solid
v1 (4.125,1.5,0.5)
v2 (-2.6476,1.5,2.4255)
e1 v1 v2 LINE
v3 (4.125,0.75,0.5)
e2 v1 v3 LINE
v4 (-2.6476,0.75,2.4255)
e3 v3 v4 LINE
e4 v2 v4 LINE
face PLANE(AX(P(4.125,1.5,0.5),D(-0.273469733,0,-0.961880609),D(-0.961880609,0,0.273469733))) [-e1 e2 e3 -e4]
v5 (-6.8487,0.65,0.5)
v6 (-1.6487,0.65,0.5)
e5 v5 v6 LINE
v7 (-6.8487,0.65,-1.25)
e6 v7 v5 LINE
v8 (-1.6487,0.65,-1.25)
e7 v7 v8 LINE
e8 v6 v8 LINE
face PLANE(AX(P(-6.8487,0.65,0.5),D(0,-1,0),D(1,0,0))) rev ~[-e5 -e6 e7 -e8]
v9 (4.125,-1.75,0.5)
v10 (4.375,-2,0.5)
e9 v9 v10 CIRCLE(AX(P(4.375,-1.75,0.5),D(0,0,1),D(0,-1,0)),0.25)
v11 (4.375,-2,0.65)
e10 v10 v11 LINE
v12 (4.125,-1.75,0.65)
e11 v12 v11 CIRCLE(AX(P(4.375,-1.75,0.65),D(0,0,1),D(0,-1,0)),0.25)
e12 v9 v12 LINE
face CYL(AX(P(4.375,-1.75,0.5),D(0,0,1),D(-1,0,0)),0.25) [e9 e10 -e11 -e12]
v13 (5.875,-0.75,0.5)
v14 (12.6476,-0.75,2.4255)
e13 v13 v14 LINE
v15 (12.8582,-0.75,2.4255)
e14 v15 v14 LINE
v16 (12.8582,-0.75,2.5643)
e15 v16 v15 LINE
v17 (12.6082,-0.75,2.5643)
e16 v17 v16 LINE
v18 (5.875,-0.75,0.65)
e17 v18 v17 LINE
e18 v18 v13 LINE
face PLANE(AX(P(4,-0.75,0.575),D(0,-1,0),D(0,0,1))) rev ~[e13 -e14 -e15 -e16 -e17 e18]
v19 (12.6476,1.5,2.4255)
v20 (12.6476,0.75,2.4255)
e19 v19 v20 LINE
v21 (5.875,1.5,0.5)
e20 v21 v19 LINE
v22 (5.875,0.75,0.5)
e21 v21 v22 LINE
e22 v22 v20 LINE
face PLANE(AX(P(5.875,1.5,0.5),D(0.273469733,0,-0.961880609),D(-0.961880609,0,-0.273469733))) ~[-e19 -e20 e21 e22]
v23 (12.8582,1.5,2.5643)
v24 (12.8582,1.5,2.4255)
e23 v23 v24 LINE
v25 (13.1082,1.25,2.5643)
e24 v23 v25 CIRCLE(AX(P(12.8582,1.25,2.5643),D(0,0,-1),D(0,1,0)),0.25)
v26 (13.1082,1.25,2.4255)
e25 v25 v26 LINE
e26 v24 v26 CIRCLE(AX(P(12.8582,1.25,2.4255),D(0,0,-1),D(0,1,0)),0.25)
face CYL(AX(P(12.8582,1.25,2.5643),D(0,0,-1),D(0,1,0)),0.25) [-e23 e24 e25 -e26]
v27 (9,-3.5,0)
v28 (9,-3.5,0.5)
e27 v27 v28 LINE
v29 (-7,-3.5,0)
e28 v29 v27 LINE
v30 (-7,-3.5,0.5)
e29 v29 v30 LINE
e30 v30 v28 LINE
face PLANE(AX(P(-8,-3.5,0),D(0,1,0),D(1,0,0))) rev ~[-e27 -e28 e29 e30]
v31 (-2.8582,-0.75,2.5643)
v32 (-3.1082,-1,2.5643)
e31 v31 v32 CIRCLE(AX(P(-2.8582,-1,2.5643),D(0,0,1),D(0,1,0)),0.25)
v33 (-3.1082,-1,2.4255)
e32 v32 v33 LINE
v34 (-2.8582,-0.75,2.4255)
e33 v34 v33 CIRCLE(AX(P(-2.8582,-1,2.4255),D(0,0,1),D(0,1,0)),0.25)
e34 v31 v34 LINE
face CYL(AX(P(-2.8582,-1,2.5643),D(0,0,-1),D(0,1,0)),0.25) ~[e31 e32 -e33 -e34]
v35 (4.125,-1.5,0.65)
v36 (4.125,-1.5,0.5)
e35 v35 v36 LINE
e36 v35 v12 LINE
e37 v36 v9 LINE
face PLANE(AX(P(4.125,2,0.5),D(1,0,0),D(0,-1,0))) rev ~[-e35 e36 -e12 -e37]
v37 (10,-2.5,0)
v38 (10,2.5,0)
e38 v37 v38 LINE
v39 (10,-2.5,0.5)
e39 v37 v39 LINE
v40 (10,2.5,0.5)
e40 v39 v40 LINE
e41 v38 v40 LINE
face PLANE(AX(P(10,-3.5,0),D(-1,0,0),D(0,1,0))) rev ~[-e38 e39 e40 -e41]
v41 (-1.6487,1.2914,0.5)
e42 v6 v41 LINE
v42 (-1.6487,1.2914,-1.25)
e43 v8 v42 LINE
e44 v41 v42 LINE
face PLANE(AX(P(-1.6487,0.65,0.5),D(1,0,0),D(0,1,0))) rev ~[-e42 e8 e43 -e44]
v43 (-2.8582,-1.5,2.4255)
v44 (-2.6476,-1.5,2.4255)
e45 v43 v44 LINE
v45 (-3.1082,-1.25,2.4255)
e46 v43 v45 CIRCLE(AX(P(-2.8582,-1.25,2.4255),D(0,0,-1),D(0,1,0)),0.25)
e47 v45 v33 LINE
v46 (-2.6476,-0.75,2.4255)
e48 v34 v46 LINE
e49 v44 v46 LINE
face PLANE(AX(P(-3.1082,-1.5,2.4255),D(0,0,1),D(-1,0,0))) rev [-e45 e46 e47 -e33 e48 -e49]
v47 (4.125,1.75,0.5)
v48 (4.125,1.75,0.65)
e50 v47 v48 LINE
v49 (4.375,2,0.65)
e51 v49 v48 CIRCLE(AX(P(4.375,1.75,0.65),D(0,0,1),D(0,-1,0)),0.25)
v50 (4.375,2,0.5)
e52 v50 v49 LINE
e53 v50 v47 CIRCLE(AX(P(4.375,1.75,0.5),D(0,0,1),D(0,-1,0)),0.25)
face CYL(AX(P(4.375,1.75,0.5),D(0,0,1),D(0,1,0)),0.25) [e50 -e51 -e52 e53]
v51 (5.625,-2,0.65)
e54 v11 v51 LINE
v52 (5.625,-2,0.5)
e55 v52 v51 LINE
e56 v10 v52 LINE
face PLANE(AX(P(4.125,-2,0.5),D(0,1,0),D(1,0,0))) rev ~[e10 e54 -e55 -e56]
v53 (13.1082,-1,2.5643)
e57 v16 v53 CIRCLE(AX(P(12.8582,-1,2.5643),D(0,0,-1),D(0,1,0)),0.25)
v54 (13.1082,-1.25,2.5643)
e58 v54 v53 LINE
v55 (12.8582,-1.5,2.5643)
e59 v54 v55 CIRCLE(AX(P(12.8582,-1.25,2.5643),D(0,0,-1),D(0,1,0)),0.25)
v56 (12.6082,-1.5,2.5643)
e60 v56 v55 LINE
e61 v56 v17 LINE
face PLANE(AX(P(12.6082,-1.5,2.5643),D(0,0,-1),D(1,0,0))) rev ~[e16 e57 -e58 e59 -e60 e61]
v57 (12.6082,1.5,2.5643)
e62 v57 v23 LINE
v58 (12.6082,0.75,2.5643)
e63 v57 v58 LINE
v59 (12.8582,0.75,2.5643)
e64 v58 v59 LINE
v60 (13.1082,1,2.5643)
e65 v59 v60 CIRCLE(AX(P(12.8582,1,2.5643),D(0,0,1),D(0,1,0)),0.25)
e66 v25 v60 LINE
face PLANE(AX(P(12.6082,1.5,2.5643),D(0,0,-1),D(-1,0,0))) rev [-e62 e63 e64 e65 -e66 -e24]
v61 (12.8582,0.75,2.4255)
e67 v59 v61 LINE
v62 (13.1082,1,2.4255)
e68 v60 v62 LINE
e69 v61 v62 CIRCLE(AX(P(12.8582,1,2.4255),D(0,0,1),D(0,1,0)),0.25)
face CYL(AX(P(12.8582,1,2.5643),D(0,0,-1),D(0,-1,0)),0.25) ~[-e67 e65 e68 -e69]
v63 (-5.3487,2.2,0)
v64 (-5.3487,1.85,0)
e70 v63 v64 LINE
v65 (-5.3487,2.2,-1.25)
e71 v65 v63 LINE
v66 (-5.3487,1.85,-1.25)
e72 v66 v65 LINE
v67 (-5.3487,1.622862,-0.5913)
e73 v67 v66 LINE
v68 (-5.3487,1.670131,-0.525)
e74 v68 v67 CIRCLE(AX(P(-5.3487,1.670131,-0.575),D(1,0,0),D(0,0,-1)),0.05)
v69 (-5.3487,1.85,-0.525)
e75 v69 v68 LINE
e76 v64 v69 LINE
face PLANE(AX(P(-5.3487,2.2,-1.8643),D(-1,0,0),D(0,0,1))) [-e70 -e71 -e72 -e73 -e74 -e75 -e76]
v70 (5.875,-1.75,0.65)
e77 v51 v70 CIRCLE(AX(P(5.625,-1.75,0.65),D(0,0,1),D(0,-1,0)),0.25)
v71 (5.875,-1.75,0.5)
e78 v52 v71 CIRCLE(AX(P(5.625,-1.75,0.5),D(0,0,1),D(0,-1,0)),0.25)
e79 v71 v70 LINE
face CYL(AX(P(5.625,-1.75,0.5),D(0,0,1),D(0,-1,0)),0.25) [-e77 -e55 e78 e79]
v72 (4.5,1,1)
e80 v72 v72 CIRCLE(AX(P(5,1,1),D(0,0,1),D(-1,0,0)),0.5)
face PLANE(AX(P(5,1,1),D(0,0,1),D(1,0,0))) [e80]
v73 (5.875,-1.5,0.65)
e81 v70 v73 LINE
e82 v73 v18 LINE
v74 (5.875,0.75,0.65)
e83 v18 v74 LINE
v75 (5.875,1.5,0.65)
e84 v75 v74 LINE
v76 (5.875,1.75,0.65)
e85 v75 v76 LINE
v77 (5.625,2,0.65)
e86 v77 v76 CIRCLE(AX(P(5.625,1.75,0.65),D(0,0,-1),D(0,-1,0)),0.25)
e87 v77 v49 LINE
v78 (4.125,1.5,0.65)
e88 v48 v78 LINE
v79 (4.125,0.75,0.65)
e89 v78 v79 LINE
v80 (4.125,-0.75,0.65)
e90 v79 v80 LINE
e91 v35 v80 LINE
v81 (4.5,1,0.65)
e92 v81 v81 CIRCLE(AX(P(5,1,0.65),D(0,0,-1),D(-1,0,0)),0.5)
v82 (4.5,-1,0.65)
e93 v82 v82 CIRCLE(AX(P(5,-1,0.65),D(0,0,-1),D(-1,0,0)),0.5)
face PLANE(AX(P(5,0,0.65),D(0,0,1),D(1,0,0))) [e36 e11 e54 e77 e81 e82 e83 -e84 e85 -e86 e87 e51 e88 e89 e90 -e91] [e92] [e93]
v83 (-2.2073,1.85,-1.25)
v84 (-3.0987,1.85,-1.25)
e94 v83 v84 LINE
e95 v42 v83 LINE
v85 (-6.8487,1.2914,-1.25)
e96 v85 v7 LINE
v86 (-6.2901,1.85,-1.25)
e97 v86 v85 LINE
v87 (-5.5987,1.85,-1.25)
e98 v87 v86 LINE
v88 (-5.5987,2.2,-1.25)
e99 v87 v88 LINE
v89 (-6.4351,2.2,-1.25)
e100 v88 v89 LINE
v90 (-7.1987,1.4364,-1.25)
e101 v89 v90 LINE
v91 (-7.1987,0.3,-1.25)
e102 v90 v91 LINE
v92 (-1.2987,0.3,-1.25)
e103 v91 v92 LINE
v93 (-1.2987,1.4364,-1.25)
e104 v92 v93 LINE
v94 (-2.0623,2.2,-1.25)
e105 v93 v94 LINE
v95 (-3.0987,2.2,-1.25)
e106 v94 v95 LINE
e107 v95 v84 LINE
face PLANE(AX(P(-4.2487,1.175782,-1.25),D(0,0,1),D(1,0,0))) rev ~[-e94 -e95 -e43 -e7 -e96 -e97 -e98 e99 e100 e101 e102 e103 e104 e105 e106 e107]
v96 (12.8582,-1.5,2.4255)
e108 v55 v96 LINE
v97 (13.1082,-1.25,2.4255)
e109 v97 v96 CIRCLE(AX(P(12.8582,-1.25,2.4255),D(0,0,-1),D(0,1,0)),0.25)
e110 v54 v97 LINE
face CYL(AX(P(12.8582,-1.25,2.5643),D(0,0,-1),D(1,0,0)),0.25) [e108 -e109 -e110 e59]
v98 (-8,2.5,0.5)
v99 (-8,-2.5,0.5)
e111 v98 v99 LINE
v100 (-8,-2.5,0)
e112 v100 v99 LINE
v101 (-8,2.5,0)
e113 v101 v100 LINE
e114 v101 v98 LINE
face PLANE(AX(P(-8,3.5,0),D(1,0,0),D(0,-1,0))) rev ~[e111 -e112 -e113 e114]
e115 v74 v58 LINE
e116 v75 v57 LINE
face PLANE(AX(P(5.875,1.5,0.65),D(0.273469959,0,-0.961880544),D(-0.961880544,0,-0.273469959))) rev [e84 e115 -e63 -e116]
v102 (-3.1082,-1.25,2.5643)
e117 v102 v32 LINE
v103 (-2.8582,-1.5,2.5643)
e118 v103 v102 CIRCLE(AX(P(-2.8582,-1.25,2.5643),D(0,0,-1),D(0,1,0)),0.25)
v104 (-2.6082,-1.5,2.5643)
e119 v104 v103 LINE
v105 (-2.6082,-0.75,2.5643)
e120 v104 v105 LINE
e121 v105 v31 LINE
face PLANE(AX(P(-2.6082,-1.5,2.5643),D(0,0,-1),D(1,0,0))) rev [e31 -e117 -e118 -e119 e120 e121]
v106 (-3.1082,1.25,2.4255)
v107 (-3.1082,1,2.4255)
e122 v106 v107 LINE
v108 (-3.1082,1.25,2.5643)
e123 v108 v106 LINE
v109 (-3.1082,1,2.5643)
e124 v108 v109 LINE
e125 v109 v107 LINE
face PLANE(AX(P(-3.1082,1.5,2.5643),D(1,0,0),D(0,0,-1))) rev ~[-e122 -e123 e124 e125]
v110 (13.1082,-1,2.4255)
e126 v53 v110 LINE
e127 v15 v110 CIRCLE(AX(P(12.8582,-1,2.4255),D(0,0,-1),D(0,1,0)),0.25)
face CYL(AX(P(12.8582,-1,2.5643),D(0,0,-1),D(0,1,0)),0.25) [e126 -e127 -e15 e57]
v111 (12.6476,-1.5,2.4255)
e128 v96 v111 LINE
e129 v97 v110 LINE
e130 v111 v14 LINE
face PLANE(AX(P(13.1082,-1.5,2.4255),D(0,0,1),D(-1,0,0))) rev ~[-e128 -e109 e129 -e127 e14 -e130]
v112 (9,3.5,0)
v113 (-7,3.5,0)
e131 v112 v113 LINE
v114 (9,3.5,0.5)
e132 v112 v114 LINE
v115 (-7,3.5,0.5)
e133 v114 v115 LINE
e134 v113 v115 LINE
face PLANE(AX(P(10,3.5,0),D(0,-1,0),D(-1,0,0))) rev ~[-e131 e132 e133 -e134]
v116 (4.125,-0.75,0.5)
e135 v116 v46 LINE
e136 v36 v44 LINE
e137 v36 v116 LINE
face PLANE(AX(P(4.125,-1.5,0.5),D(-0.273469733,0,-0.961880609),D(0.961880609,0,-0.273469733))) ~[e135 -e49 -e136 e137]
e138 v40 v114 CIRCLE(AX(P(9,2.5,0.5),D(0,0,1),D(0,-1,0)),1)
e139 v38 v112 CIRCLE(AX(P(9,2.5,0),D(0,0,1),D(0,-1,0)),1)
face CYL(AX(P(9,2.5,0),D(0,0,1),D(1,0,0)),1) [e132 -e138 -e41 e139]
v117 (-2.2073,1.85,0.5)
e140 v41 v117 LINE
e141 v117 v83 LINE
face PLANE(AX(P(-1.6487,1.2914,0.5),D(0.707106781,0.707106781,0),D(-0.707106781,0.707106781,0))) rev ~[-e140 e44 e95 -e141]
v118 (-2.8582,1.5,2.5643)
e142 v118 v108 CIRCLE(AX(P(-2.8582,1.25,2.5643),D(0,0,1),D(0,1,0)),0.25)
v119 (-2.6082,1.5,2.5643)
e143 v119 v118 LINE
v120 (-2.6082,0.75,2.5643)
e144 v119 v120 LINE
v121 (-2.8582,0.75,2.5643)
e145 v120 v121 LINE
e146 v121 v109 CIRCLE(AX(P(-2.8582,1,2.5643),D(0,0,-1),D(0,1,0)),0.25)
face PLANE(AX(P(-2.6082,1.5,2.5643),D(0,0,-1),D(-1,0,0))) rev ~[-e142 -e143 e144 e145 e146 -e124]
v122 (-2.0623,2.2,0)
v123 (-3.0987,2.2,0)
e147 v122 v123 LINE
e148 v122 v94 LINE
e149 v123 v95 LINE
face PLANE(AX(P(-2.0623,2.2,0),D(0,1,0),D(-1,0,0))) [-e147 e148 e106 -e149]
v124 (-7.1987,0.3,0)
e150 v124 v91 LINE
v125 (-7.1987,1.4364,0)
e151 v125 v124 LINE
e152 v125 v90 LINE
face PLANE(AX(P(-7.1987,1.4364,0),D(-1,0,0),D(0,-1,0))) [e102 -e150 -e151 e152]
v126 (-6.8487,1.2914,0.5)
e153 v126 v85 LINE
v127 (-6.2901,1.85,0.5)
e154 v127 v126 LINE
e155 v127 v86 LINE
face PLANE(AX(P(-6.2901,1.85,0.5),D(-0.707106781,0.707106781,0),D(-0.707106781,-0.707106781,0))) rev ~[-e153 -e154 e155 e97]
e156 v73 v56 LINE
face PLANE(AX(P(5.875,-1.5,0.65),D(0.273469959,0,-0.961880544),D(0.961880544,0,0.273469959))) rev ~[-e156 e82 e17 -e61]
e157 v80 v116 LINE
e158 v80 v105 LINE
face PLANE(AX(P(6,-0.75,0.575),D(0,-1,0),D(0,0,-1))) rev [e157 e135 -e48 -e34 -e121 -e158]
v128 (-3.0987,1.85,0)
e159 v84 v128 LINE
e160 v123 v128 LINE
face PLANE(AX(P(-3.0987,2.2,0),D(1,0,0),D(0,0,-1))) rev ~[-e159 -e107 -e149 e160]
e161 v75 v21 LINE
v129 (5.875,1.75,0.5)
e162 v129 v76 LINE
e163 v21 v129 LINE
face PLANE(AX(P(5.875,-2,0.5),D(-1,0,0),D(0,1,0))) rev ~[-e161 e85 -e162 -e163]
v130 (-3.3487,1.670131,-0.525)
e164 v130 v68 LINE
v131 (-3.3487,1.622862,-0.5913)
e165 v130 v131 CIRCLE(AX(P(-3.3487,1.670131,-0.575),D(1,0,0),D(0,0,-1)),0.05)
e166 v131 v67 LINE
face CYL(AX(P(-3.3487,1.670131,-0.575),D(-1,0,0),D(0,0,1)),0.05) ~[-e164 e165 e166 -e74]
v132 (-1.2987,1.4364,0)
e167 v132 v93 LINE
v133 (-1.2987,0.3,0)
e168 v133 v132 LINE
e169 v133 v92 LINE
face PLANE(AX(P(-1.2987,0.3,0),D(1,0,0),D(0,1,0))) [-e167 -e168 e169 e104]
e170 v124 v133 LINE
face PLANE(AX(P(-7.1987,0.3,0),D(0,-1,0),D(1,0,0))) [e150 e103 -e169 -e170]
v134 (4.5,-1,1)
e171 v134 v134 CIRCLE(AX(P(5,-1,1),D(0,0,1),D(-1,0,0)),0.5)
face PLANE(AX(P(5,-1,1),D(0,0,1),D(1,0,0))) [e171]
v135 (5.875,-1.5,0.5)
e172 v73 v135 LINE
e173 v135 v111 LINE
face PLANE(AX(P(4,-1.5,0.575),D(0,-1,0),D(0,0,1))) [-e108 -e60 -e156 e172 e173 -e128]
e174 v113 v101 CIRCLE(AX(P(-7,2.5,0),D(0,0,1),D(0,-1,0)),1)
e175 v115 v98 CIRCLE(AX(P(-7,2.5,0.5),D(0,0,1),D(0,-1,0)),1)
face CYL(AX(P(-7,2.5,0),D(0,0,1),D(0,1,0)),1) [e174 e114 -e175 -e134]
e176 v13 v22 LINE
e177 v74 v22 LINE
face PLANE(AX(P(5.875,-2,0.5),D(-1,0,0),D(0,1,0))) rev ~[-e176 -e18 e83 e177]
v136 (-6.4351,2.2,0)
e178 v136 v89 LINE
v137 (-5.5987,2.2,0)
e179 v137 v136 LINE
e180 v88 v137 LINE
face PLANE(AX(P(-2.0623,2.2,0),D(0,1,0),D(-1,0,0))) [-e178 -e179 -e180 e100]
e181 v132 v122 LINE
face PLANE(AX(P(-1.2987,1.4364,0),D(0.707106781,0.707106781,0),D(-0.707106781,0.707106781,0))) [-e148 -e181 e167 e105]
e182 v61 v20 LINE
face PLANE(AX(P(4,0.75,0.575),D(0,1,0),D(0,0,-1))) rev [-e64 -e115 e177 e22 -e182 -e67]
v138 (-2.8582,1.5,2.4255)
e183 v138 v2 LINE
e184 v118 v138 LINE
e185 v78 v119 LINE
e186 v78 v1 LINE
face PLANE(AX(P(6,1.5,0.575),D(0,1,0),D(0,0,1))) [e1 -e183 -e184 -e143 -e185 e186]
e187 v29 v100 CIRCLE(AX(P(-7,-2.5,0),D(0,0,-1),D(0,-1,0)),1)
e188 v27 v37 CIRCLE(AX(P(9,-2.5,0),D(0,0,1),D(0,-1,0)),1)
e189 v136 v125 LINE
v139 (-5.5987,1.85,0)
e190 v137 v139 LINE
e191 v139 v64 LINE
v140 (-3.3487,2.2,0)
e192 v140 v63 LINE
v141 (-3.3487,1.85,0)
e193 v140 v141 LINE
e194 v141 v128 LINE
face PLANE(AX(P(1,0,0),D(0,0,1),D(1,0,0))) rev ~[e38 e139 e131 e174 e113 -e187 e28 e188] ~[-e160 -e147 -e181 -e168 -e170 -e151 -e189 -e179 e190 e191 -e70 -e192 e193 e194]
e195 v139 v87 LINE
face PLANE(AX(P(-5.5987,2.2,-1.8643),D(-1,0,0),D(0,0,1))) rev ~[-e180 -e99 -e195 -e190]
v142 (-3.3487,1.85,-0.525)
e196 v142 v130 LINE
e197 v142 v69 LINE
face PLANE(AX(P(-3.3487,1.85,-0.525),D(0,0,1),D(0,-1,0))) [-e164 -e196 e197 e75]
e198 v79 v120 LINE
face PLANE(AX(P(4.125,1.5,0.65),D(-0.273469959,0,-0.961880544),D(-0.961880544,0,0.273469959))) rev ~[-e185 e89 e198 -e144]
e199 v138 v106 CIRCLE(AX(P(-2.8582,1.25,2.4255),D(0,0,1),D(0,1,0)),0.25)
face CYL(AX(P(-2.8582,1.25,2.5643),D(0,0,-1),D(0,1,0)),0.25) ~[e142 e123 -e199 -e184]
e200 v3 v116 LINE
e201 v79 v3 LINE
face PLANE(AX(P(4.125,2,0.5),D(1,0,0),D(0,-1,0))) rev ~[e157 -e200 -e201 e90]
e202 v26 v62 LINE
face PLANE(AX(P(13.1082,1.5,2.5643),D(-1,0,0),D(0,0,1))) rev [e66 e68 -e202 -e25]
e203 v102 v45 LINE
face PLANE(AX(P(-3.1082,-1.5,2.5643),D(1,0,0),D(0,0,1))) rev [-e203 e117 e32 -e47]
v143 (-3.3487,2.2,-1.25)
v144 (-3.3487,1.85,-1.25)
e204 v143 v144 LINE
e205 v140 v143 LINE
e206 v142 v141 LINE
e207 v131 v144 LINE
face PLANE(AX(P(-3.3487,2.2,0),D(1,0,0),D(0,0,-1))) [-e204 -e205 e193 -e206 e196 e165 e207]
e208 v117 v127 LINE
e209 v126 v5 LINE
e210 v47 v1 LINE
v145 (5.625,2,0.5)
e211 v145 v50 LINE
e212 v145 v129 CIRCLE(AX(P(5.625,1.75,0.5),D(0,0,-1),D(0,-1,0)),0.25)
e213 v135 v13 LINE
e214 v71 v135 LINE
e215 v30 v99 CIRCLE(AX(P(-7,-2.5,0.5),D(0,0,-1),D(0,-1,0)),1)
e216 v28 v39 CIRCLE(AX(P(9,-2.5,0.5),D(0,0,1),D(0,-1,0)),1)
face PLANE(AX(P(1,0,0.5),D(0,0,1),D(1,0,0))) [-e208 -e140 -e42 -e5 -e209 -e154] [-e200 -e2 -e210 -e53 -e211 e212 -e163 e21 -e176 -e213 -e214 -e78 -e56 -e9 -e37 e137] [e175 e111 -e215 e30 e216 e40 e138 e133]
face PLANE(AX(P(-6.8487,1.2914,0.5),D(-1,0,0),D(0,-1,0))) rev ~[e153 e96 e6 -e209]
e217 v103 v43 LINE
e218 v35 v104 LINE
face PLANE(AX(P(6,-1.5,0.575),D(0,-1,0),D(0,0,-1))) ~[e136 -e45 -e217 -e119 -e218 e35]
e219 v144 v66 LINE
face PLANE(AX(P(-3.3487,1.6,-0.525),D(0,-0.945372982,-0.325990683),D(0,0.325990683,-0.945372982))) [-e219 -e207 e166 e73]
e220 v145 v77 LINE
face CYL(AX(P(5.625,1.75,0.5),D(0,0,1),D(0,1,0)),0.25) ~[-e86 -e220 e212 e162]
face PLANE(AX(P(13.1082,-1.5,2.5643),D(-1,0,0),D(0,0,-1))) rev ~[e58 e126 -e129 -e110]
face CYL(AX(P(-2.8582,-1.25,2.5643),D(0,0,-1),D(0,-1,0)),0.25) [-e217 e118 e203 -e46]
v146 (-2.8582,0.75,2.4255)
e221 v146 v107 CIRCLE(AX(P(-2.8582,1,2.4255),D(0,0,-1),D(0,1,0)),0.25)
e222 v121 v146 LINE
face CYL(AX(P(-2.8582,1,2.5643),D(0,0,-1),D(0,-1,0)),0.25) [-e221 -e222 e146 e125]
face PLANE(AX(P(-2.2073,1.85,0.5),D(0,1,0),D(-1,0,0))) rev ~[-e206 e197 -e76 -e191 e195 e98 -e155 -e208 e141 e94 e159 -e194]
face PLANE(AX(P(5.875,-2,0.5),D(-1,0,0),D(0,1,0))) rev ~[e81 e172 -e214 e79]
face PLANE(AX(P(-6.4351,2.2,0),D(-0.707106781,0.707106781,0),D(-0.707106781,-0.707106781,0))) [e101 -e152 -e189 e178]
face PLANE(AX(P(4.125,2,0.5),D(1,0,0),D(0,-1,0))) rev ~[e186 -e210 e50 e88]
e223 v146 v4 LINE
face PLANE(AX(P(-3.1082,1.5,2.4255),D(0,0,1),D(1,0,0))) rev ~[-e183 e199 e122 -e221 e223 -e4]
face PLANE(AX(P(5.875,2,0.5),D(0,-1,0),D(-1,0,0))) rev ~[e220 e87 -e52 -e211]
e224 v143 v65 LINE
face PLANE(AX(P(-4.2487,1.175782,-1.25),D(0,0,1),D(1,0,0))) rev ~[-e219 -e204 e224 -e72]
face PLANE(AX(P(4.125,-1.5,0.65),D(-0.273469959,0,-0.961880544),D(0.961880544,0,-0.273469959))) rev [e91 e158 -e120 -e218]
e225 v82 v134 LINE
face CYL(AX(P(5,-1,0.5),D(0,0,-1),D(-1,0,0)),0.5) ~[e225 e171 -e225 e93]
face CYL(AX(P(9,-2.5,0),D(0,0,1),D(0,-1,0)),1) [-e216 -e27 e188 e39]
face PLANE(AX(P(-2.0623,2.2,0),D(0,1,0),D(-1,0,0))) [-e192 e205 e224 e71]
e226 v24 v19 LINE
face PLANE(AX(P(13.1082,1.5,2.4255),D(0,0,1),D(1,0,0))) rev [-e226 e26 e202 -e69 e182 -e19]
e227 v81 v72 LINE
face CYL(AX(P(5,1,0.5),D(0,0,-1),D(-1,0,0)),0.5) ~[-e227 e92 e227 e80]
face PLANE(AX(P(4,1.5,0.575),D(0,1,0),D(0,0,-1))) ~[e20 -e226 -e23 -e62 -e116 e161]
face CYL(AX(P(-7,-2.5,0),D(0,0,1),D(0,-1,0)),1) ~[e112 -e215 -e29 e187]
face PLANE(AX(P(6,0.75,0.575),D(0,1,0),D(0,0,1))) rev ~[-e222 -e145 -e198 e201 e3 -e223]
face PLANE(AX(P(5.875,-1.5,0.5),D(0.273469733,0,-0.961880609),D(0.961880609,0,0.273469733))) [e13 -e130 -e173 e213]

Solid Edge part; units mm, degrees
sketch "Sketch1" plane through (0, 0, 0) normal (0, 0, 1) x (1, 0, 0)
  line L0 (-8, -3.5) -> (10, -3.5)
  line L1 (10, -3.5) -> (10, 3.5)
  line L2 (10, 3.5) -> (-8, 3.5)
  line L3 (-8, 3.5) -> (-8, -3.5)
  dimension "D1" = 7
  dimension "D2" = 18
  dimension "D3" = 10
extrude "Protrusion1" add sketch "Sketch1" along normal blind 0.5
sketch "Sketch2" plane through (2, 0, 0.5) normal (0, 0, 1) x (-1, 0, 0)
  line L0 (8.8487, -0.65) -> (3.6487, -0.65)
  line L1 (3.6487, -0.65) -> (3.6487, -1.2914)
  line L2 (3.6487, -1.2914) -> (4.2073, -1.85)
  line L3 (4.2073, -1.85) -> (8.2901, -1.85)
  line L4 (8.2901, -1.85) -> (8.8487, -1.2914)
  line L5 (8.8487, -1.2914) -> (8.8487, -0.65)
extrude "Cutout1" cut sketch "Sketch2" against normal up to next
sketch "Sketch3" plane through (2, 0, 0) normal (0, 0, -1) x (1, 0, 0)
  line L0 (-8.2901, -1.85) -> (-8.8487, -1.2914)
  line L1 (-8.8487, -1.2914) -> (-8.8487, -0.65)
  line L2 (-8.8487, -0.65) -> (-3.6487, -0.65)
  line L3 (-3.6487, -0.65) -> (-3.6487, -1.2914)
  line L4 (-3.6487, -1.2914) -> (-4.2073, -1.85)
  line L5 (-4.2073, -1.85) -> (-8.2901, -1.85)
  line L6 (-9.1987, -0.3) -> (-3.2987, -0.3)
  line L7 (-3.2987, -0.3) -> (-3.2987, -1.4364)
  line L8 (-3.2987, -1.4364) -> (-4.0623, -2.2)
  line L9 (-4.0623, -2.2) -> (-8.4351, -2.2)
  line L10 (-8.4351, -2.2) -> (-9.1987, -1.4364)
  line L11 (-9.1987, -1.4364) -> (-9.1987, -0.3)
extrude "ExtrudedProtrusion_2" add sketch "Sketch3" along normal blind 1.25
sketch "Sketch4" plane through (-3.0487, 2.2, -0.625) normal (0, 1, 0) x (1, 0, 0)
  line L0 (-0.05, -0.625) -> (-0.05, 1.2393)
  line L1 (-0.3, 1.2393) -> (-0.05, 1.2393)
  line L2 (-0.3, -0.625) -> (-0.3, 1.2393)
  line L3 (-0.05, -0.625) -> (-0.3, -0.625)
  line L4 (-2.55, 1.2393) -> (-2.55, -0.625)
  line L5 (-2.3, -0.625) -> (-2.55, -0.625)
  line L6 (-2.3, 1.2393) -> (-2.3, -0.625)
  line L7 (-2.55, 1.2393) -> (-2.3, 1.2393)
extrude "Cutout2" cut sketch "Sketch4" against normal up to next
sketch "Sketch5" plane through (-3.3487, 2.025, -0.625) normal (1, 0, 0) x (0, -1, 0)
  line L0 (0.175, -0.1) -> (0.425, -0.1)
  line L1 (0.425, -0.1) -> (0.175, 0.625)
  dimension "D1" = 0.25
  dimension "D2" = 0.525
extrude "Protrusion2" add sketch "Sketch5" against normal up to vertex (2 mm away) material side at (-3.3487, 1.725, -0.575)
fillet "Round_1" radius 0.05 1 edges at (-4.3487, 1.6, -0.525)
fillet "Round_2" radius 1 4 edges at (10, 3.5, 0.25) (10, -3.5, 0.25) (-8, 3.5, 0.25) (-8, -3.5, 0.25)
sketch "Sketch6" plane through (2, 0, 0.5) normal (0, 0, 1) x (-1, 0, 0)
  circle A0 centre (-3, -1) radius 0.5
  circle A1 centre (-3, 1) radius 0.5
  dimension "D1" = 2
  dimension "D2" = 2.5
  dimension "D3" = 2.5
  dimension "D4" = 5
extrude "ExtrudedProtrusion_4" add sketch "Sketch6" along normal blind 0.5
sketch "Sketch7" plane through (2, 0, 0.5) normal (0, 0, 1) x (-1, 0, 0)
  line L0 (-3.875, -2) -> (-2.125, -2)
  line L1 (-2.125, -2) -> (-2.125, 2)
  line L2 (-2.125, 2) -> (-3.875, 2)
  line L3 (-3.875, 2) -> (-3.875, -2)
  dimension "D1" = 1.75
  dimension "D2" = 4
extrude "ExtrudedProtrusion_5" add sketch "Sketch7" along normal blind 0.15
fillet "Round_3" radius 0.25 4 edges at (5.875, 2, 0.575) (4.125, 2, 0.575) (4.125, -2, 0.575) (5.875, -2, 0.575)
sketch "Sketch8" plane through (6, 1.5, 0.575) normal (0, 1, 0) x (-1, 0, 0)
  line L0 (1.875, 0.075) -> (8.6082, 1.9893)
  line L1 (8.6082, 1.9893) -> (9.1082, 1.9893)
  line L2 (9.1082, 1.9893) -> (9.1082, 1.8505)
  line L3 (9.1082, 1.8505) -> (8.6476, 1.8505)
  line L4 (1.875, -0.075) -> (8.6476, 1.8505)
  dimension "D1" = 7
  dimension "D2" = 0.1388
  dimension "D3" = 0.5
extrude "ExtrudedProtrusion_6" add sketch "Sketch8" against normal blind 0.75 material side at (0.7447, 1.5, 1.5591)
fillet "Round_4" radius 0.25 2 edges at (-3.1082, 1.5, 2.4949) (-3.1082, 0.75, 2.4949)
mirror "Mirror1" about plane through (6, 0, 0.575) normal (0, 1, 0) of "ExtrudedProtrusion_6"
fillet "Round1" radius 0.25 2 edges at (-3.1082, -1.5, 2.4949) (-3.1082, -0.75, 2.4949)
mirror "Mirror2" about plane through (5, 0, 0.575) normal (1, 0, 0) of "Mirror1", "ExtrudedProtrusion_6"
fillet "Round2" radius 0.25 2 edges at (13.1082, 1.5, 2.4949) (13.1082, 0.75, 2.4949)
fillet "Round3" radius 0.25 2 edges at (13.1082, -1.5, 2.4949) (13.1082, -0.75, 2.4949)
properties material "Polypropylene, general purpose"
